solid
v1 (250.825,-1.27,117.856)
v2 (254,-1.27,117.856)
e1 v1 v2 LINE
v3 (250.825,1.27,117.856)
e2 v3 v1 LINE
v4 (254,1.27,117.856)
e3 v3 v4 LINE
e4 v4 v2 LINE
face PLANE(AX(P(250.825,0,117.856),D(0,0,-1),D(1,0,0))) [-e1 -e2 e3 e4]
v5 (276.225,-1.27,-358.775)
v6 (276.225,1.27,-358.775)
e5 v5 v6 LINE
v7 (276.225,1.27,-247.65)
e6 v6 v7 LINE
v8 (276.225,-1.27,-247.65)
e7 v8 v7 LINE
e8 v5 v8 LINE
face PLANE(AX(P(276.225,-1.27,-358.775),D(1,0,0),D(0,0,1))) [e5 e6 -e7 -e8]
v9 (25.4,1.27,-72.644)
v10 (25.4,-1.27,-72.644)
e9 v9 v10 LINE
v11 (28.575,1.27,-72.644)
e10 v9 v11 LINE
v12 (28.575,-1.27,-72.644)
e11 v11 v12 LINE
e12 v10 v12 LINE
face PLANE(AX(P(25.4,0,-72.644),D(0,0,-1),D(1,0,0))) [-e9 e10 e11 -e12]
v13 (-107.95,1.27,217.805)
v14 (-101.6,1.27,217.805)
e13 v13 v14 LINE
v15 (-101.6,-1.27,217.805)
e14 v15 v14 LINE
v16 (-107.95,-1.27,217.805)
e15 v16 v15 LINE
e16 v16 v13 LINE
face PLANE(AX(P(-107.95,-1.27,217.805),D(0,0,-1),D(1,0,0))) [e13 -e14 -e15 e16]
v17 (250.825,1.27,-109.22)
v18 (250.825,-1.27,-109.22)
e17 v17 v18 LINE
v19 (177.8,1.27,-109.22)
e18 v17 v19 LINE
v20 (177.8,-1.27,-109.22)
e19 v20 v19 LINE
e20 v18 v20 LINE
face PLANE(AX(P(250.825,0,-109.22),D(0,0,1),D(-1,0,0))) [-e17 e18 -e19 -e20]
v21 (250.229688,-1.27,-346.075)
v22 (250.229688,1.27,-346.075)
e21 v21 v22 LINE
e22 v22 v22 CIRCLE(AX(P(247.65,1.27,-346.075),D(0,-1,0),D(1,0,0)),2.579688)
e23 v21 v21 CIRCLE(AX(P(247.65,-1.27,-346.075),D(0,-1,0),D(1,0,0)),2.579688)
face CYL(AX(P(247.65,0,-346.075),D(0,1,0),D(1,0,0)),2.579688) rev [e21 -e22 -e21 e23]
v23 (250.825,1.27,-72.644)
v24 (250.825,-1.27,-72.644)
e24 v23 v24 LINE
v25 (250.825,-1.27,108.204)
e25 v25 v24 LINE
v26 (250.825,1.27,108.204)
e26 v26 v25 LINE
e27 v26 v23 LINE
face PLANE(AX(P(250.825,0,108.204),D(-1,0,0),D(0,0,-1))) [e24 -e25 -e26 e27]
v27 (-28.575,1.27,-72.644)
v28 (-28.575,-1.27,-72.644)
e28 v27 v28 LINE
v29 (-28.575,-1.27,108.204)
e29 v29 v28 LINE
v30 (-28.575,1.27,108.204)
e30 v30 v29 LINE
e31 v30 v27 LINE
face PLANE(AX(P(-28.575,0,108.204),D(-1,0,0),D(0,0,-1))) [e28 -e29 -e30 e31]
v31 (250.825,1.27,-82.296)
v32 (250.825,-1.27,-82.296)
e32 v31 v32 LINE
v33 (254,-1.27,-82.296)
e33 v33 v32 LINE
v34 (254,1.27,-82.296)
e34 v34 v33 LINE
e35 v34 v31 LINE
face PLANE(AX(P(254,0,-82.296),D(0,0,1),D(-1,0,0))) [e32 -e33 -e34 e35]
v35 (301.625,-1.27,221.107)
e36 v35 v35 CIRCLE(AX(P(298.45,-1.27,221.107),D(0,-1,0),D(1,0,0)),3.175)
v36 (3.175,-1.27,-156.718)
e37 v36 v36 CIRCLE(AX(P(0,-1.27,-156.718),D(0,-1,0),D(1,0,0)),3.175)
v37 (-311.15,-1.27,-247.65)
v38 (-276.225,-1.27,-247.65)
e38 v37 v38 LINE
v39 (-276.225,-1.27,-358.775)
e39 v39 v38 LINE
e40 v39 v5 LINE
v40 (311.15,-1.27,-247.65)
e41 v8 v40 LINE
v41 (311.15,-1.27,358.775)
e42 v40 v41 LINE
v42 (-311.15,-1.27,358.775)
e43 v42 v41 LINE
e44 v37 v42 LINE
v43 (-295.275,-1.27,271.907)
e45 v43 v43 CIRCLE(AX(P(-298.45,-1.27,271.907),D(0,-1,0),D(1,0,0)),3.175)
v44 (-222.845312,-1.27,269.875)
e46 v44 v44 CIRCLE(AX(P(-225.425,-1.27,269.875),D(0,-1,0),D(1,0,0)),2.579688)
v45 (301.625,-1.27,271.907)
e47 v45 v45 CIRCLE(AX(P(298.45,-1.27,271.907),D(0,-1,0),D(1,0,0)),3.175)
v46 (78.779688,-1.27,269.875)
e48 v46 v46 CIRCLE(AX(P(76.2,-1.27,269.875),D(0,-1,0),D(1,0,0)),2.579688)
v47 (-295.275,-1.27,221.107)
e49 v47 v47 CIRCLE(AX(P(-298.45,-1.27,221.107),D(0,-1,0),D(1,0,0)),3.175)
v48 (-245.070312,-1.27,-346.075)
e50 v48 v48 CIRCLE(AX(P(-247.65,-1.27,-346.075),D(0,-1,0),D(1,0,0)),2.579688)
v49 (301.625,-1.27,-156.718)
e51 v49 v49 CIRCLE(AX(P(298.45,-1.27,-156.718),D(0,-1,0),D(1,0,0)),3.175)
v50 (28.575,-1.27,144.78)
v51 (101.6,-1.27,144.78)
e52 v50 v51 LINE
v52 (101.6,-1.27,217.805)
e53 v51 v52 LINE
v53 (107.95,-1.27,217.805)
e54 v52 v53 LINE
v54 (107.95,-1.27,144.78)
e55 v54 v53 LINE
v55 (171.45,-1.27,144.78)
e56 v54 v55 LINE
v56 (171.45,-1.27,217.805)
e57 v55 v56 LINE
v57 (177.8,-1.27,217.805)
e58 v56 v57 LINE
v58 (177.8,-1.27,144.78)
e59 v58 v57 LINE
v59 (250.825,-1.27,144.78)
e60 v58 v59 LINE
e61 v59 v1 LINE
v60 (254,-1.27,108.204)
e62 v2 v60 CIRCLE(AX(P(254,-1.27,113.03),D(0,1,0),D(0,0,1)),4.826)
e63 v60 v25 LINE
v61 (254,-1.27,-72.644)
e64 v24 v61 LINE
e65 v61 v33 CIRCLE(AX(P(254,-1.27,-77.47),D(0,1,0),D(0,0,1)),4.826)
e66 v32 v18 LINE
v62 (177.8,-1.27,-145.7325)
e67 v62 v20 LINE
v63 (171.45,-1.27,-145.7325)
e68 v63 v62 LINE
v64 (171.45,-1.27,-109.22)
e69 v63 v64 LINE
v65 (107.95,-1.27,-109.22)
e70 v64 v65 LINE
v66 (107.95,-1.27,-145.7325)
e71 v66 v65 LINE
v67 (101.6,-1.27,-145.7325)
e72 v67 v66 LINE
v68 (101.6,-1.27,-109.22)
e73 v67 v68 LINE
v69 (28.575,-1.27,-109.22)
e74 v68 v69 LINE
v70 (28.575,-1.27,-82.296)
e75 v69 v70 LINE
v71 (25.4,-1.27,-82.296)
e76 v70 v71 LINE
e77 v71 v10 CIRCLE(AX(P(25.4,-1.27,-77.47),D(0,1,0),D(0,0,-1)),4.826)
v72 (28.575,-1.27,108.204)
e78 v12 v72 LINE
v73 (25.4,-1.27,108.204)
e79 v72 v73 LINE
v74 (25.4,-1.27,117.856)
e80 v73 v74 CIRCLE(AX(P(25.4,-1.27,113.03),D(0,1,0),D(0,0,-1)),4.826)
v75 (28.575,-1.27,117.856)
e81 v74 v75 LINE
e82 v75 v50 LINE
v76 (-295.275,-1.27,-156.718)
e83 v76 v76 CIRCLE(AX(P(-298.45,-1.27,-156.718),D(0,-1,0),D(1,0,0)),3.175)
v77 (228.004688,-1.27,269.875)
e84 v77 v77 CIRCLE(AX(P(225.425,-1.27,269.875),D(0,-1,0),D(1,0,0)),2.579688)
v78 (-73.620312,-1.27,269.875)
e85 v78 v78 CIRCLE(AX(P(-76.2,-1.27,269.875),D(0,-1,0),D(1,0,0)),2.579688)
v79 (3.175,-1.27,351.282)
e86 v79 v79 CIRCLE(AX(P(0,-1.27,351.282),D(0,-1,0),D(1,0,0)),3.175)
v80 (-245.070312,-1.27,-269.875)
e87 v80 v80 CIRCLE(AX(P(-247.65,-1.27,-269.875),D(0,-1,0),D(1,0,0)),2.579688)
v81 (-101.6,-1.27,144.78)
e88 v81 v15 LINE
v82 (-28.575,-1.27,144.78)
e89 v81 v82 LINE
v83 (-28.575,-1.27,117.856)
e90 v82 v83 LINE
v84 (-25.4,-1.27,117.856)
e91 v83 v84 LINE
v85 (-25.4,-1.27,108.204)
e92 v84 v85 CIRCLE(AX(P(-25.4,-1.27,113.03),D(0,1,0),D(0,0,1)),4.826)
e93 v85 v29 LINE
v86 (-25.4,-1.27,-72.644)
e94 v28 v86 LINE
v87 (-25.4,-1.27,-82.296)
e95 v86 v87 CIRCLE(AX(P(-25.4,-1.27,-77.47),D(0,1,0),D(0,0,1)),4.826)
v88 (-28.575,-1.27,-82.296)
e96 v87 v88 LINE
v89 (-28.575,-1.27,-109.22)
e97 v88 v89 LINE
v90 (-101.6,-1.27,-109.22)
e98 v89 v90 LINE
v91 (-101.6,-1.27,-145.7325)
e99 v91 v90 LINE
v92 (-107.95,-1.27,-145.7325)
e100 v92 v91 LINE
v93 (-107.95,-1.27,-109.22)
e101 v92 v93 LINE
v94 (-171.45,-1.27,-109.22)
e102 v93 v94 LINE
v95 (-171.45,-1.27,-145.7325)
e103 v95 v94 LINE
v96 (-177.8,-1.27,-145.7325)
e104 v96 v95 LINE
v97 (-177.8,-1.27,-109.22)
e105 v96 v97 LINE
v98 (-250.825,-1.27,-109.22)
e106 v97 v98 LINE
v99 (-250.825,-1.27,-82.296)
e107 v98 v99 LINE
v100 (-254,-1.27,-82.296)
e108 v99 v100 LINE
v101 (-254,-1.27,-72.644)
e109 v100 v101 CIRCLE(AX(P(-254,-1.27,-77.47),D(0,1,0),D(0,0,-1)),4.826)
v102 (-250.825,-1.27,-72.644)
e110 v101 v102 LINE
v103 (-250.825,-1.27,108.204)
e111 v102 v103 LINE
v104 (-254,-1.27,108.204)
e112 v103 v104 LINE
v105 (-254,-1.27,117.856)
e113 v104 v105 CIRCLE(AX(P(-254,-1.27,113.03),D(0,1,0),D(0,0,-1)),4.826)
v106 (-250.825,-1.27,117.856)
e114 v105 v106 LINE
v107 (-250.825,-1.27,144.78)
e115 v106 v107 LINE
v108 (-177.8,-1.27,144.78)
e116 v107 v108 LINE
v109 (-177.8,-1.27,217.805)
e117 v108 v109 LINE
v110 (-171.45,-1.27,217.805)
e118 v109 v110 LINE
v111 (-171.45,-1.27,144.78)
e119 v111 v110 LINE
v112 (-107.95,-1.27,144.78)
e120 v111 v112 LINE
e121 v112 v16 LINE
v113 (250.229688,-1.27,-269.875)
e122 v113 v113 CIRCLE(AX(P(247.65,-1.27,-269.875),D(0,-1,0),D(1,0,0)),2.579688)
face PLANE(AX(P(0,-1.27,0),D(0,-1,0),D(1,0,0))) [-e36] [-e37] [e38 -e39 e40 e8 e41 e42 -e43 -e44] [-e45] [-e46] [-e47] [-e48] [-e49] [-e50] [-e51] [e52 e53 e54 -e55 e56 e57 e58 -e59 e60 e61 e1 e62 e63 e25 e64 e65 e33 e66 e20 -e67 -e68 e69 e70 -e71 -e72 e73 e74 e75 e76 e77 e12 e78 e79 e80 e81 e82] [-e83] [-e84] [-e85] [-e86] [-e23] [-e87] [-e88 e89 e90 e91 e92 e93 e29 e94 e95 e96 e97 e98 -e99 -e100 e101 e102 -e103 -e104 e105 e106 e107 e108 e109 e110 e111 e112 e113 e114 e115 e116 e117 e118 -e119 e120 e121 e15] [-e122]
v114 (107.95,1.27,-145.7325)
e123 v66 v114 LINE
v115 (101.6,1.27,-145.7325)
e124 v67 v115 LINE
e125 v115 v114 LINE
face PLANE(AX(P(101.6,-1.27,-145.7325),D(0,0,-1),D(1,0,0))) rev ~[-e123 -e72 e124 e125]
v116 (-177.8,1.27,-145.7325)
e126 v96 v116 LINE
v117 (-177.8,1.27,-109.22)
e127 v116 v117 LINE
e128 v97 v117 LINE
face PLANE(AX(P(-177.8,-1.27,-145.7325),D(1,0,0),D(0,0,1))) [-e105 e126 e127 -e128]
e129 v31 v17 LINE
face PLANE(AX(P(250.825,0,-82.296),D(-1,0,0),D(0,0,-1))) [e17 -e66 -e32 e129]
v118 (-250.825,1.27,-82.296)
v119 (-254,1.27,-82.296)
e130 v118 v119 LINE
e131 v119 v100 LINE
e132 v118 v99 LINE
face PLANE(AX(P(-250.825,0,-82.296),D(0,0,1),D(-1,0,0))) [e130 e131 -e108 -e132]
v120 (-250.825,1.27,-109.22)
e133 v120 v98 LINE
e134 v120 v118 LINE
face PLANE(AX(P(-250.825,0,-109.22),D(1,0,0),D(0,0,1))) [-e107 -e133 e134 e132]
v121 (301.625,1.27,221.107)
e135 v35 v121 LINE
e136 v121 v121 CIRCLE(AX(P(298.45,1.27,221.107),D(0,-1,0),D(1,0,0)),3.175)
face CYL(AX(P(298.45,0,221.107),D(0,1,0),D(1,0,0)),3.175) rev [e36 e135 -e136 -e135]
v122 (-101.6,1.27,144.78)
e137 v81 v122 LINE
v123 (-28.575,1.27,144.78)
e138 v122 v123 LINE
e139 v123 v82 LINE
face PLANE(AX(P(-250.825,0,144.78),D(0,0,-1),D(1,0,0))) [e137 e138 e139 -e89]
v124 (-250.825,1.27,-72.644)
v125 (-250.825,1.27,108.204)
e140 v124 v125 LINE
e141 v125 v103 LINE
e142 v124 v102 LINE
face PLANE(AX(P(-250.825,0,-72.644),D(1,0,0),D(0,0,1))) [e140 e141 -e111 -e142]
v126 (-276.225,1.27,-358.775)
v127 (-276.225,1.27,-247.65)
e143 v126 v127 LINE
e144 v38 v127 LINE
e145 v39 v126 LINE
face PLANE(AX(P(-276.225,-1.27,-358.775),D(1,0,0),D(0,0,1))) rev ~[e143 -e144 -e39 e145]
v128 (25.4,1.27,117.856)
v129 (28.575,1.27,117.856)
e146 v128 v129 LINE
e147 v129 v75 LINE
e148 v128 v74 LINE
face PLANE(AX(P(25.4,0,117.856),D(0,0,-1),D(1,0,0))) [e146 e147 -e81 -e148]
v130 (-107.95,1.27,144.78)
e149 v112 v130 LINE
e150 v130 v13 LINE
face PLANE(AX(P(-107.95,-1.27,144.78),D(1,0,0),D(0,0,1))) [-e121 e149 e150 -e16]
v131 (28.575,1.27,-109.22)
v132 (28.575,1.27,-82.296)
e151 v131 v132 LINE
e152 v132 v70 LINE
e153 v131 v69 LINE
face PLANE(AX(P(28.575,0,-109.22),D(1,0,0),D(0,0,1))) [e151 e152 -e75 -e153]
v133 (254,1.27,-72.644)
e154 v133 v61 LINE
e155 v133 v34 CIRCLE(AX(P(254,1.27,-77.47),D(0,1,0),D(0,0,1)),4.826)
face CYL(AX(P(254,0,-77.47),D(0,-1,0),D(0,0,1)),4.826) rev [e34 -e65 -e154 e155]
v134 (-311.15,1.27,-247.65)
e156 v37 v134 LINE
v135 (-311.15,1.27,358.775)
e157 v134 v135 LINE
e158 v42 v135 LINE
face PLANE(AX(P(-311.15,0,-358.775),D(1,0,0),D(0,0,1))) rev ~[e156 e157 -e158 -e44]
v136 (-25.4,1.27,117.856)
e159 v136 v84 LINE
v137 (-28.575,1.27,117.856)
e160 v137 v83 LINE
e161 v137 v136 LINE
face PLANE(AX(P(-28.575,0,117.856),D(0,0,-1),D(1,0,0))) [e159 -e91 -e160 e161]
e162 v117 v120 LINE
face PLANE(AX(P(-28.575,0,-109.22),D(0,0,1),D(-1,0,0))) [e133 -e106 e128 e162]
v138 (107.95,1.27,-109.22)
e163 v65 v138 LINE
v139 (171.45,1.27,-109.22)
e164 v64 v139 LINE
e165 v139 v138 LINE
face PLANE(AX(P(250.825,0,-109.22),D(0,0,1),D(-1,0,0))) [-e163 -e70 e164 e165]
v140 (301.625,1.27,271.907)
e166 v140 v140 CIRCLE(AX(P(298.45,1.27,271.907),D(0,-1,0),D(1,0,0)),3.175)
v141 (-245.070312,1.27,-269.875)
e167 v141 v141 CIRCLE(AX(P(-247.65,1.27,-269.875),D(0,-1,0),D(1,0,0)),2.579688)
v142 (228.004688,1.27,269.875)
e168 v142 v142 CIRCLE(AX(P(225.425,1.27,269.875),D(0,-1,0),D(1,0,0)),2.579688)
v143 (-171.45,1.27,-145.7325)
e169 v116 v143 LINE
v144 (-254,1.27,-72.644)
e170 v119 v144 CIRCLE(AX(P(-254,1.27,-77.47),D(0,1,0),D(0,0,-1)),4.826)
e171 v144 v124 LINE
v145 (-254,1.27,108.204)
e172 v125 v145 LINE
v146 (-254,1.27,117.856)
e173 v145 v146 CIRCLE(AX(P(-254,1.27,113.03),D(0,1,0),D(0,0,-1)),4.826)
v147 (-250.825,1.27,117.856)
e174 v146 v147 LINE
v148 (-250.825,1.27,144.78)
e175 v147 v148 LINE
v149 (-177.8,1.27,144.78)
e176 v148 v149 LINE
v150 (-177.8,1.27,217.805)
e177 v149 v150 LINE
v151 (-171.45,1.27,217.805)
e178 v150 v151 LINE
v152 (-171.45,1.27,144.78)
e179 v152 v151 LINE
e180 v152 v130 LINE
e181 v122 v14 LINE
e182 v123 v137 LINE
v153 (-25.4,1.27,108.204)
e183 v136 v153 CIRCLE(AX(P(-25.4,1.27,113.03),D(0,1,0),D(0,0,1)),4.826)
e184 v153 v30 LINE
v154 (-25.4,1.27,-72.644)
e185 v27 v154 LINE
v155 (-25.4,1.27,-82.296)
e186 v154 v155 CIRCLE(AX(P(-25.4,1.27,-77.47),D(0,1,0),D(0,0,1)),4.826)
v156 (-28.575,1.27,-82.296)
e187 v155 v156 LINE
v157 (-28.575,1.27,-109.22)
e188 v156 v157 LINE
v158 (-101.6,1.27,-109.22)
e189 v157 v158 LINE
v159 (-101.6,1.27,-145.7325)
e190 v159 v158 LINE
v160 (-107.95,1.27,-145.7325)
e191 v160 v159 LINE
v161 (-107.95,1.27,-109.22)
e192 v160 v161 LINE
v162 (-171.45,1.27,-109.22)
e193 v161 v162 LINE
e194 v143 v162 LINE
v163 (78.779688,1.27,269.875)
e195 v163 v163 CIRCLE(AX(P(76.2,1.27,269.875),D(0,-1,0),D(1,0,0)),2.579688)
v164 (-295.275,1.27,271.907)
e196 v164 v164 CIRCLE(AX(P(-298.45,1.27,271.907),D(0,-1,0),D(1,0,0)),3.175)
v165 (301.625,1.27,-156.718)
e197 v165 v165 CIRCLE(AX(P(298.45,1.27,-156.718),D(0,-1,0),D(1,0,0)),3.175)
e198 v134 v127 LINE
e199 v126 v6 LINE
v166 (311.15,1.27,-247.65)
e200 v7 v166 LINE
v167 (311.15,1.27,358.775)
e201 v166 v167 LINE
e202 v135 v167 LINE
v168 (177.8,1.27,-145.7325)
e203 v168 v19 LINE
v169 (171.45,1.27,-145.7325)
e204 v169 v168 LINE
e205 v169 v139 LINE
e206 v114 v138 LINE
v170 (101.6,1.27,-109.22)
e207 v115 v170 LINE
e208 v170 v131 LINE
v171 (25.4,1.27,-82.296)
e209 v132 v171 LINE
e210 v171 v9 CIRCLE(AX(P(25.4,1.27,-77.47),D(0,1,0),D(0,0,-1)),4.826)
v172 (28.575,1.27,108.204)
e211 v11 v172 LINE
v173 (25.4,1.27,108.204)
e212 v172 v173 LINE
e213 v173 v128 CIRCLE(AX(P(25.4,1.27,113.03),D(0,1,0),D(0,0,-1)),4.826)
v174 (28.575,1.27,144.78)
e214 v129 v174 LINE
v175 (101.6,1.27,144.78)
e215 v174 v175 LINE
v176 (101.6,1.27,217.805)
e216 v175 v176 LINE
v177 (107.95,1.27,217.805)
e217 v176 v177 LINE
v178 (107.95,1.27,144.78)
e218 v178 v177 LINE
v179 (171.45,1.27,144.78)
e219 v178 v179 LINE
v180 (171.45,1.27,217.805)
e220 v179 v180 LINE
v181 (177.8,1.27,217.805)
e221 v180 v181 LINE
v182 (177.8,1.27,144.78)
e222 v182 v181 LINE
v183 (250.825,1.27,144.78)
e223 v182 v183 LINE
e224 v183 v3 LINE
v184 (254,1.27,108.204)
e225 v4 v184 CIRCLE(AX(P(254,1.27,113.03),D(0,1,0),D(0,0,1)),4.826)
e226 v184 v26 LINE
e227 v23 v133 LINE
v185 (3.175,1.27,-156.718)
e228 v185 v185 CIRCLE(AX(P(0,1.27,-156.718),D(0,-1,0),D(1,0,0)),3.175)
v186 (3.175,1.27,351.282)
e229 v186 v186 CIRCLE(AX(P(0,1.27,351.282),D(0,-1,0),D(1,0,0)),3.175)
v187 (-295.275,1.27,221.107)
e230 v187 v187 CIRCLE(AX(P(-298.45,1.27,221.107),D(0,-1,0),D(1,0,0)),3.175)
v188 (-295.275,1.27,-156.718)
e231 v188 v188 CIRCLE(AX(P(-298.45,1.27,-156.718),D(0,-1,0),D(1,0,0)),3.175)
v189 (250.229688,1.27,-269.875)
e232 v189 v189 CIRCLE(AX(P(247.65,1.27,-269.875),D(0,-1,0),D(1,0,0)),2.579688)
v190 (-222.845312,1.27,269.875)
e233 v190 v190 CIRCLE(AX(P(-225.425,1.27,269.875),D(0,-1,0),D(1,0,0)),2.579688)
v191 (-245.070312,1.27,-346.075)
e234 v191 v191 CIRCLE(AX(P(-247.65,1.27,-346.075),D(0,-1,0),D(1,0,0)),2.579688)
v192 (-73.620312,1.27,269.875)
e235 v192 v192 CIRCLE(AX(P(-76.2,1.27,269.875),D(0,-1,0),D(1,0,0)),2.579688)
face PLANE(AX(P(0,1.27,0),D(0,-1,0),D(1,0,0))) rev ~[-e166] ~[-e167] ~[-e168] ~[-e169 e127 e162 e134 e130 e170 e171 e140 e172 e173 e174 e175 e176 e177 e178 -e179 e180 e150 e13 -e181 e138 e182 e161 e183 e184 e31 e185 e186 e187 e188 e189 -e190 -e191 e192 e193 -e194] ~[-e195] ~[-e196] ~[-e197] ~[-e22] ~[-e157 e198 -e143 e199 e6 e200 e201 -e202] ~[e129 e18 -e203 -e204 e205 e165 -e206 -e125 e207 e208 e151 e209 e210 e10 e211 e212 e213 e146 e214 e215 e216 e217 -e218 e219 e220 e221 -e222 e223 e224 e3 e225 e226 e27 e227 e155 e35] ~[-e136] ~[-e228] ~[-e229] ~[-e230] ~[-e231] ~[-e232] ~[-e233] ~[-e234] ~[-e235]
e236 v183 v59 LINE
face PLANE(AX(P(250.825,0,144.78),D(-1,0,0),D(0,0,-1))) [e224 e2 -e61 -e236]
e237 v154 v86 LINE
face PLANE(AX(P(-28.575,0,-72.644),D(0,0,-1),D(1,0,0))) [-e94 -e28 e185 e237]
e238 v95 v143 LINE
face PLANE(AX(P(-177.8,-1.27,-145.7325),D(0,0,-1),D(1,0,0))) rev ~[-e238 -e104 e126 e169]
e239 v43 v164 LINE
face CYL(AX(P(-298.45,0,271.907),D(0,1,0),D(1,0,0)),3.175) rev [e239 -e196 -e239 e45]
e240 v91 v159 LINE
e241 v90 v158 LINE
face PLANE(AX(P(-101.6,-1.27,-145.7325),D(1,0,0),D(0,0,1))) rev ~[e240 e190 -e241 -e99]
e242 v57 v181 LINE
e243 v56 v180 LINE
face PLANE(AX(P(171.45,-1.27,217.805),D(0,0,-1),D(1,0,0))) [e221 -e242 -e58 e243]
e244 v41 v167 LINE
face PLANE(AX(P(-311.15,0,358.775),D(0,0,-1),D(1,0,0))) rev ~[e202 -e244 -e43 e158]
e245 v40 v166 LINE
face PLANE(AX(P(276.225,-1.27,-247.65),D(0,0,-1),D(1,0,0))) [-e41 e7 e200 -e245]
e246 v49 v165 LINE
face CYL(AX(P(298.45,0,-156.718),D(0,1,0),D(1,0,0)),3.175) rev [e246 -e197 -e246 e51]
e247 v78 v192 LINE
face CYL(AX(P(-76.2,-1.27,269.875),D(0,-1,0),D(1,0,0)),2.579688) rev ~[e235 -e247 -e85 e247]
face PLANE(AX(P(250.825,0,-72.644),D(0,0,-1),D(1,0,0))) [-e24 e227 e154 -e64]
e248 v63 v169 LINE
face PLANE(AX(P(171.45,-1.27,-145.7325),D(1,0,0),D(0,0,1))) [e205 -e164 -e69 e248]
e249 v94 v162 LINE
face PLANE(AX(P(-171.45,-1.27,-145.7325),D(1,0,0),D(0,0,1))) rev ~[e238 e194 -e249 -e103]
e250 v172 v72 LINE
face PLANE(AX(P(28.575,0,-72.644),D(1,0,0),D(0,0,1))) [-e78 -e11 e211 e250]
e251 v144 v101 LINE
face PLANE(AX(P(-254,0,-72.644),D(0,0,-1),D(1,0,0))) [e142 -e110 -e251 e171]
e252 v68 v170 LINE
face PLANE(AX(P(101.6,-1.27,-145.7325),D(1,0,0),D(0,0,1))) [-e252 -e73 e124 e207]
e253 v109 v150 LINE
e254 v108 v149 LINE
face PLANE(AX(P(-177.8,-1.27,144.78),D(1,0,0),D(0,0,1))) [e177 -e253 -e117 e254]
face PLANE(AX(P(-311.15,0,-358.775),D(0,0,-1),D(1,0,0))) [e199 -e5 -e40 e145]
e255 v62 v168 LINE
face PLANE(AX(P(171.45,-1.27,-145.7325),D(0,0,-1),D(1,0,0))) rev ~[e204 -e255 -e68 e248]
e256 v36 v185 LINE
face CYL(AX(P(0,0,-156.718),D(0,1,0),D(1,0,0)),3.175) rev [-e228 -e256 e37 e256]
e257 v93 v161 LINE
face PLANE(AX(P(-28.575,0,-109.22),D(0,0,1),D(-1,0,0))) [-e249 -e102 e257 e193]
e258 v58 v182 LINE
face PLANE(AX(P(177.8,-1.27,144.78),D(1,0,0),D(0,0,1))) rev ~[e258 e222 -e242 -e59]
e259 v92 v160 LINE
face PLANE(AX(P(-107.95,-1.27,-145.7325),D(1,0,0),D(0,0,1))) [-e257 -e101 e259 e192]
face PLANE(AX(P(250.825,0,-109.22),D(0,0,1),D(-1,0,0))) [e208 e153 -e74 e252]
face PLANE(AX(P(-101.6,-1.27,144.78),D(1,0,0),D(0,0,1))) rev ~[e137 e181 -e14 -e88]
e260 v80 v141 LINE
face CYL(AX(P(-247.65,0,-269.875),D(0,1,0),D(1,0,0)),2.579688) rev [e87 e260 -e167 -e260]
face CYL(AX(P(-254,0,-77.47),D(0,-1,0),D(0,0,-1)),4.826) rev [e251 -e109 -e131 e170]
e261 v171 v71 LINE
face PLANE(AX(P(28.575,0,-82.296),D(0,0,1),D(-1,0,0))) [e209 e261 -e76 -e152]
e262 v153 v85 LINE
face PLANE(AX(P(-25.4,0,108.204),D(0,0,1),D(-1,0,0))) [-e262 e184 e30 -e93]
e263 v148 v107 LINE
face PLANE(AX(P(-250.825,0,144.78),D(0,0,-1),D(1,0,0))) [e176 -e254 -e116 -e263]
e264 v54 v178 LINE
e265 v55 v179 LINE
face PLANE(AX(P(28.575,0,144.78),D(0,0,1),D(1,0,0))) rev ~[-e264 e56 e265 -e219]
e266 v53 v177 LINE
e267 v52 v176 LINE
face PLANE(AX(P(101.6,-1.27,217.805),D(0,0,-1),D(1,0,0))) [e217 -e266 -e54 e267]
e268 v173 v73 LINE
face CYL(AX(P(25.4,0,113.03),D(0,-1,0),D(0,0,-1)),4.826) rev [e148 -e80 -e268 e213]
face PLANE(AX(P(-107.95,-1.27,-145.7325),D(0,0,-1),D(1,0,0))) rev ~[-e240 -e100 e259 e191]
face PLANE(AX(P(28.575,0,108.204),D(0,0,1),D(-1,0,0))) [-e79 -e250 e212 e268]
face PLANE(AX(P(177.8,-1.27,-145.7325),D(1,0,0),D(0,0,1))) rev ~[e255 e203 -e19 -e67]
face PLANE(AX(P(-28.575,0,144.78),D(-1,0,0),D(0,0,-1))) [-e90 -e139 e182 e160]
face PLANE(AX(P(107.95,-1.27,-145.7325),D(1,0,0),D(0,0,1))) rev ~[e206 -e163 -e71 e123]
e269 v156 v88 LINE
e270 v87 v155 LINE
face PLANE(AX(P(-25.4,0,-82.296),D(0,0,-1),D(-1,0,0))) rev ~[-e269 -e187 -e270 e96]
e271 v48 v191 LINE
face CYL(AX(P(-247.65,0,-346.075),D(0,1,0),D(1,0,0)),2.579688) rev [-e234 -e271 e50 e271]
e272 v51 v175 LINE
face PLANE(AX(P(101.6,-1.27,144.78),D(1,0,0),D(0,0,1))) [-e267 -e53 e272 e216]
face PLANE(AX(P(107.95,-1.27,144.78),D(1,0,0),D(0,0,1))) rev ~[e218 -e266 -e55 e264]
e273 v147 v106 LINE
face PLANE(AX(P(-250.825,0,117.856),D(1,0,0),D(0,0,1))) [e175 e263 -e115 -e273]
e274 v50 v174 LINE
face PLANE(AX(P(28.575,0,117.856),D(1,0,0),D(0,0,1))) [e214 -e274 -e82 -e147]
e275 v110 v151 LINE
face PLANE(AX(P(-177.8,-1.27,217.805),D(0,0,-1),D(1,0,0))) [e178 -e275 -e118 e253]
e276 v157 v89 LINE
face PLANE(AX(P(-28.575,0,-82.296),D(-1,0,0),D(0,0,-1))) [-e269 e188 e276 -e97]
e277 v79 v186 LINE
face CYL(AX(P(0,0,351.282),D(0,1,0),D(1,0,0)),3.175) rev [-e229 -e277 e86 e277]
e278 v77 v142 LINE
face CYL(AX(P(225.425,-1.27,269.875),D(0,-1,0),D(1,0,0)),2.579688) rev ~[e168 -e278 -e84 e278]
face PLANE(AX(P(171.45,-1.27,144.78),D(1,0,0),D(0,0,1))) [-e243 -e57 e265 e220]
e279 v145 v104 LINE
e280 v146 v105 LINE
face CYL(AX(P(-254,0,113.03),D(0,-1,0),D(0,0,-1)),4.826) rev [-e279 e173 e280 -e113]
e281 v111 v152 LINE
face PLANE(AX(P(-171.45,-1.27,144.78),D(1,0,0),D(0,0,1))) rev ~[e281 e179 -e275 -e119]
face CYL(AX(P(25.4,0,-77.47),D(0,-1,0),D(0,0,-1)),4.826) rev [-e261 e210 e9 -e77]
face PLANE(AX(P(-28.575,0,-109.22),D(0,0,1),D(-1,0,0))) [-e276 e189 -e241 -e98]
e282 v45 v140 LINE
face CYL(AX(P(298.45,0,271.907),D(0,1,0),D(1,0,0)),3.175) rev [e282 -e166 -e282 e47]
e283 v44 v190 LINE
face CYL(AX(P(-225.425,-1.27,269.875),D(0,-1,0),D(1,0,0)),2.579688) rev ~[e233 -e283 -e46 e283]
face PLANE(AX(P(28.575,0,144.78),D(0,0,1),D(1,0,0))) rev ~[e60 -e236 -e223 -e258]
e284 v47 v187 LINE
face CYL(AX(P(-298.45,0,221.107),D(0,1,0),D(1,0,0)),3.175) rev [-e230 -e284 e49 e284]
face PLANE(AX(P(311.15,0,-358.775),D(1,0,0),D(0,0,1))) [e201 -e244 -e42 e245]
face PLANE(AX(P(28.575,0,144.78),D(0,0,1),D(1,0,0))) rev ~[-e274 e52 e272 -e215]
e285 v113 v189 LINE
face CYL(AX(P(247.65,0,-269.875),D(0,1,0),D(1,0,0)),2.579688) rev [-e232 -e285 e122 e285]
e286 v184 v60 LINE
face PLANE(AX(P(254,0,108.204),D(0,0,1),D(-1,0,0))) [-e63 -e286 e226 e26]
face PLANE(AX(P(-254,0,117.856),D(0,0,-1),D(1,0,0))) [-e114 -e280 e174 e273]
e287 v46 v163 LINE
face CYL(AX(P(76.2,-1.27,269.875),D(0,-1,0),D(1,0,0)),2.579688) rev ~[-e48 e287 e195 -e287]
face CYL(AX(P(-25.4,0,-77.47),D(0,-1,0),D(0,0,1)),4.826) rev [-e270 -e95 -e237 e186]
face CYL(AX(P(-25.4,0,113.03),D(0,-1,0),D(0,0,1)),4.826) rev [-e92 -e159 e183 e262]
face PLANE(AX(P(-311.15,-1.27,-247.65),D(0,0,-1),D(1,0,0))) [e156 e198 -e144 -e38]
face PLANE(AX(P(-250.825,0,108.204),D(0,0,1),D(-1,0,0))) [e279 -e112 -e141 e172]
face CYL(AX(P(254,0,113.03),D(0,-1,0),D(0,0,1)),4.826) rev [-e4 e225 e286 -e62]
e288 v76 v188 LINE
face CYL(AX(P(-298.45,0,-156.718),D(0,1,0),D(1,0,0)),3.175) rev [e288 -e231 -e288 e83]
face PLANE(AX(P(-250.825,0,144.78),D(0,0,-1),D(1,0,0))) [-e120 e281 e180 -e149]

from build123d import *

# Parameters (mm, degrees)
F0_W     = 622.3
F0_H     = 717.55
F0_R     = 2.579688
F0_R_2   = 3.175
F1_DEPTH = 1.27
F2_W     = 34.925
F2_H     = 111.125
F2_W_2   = 6.35
F2_H_2   = 73.025
F2_H_3   = 36.5125
F2_R     = 2.579688
F3_DEPTH = 2.541


with BuildPart() as f1:
    # F0 (on Front) → F1 (new body, symmetric)
    with BuildSketch(Plane.XZ):
        Rectangle(F0_W, F0_H)
        with Locations((-247.65, -346.075)):
            Circle(F0_R, mode=Mode.SUBTRACT)
        with Locations((-247.65, -269.875)):
            Circle(F0_R, mode=Mode.SUBTRACT)
        with Locations((-298.45, -156.718)):
            Circle(F0_R_2, mode=Mode.SUBTRACT)
        with Locations((247.65, -346.075)):
            Circle(F0_R, mode=Mode.SUBTRACT)
        with Locations((247.65, -269.875)):
            Circle(F0_R, mode=Mode.SUBTRACT)
        with Locations((0, -156.718)):
            Circle(F0_R_2, mode=Mode.SUBTRACT)
        with Locations((298.45, -156.718)):
            Circle(F0_R_2, mode=Mode.SUBTRACT)
        with BuildLine():
            Line((-250.825, 117.856), (-250.825, 144.78))
            Line((-250.825, 144.78), (-28.575, 144.78))
            Line((-28.575, 144.78), (-28.575, 117.856))
            Line((-28.575, 117.856), (-25.4, 117.856))
            ThreePointArc((-25.4, 117.856), (-20.574, 113.03), (-25.4, 108.204))
            Line((-25.4, 108.204), (-28.575, 108.204))
            Line((-28.575, 108.204), (-28.575, -72.644))
            Line((-28.575, -72.644), (-25.4, -72.644))
            ThreePointArc((-25.4, -72.644), (-20.574, -77.47), (-25.4, -82.296))
            Line((-25.4, -82.296), (-28.575, -82.296))
            Line((-28.575, -82.296), (-28.575, -109.22))
            Line((-28.575, -109.22), (-250.825, -109.22))
            Line((-250.825, -109.22), (-250.825, -82.296))
            Line((-250.825, -82.296), (-254, -82.296))
            ThreePointArc((-254, -82.296), (-258.826, -77.47), (-254, -72.644))
            Line((-254, -72.644), (-250.825, -72.644))
            Line((-250.825, -72.644), (-250.825, 108.204))
            Line((-250.825, 108.204), (-254, 108.204))
            ThreePointArc((-254, 108.204), (-258.826, 113.03), (-254, 117.856))
            Line((-254, 117.856), (-250.825, 117.856))
        make_face(mode=Mode.SUBTRACT)
        with Locations((-298.45, 221.107)):
            Circle(F0_R_2, mode=Mode.SUBTRACT)
        with Locations((-298.45, 271.907)):
            Circle(F0_R_2, mode=Mode.SUBTRACT)
        with BuildLine():
            Line((28.575, -109.22), (28.575, -82.296))
            Line((28.575, -82.296), (25.4, -82.296))
            ThreePointArc((25.4, -82.296), (20.574, -77.47), (25.4, -72.644))
            Line((25.4, -72.644), (28.575, -72.644))
            Line((28.575, -72.644), (28.575, 108.204))
            Line((28.575, 108.204), (25.4, 108.204))
            ThreePointArc((25.4, 108.204), (20.574, 113.03), (25.4, 117.856))
            Line((25.4, 117.856), (28.575, 117.856))
            Line((28.575, 117.856), (28.575, 144.78))
            Line((28.575, 144.78), (250.825, 144.78))
            Line((250.825, 144.78), (250.825, 117.856))
            Line((250.825, 117.856), (254, 117.856))
            ThreePointArc((254, 117.856), (258.826, 113.03), (254, 108.204))
            Line((254, 108.204), (250.825, 108.204))
            Line((250.825, 108.204), (250.825, -72.644))
            Line((250.825, -72.644), (254, -72.644))
            ThreePointArc((254, -72.644), (258.826, -77.47), (254, -82.296))
            Line((254, -82.296), (250.825, -82.296))
            Line((250.825, -82.296), (250.825, -109.22))
            Line((250.825, -109.22), (28.575, -109.22))
        make_face(mode=Mode.SUBTRACT)
        with Locations((0, 351.282)):
            Circle(F0_R_2, mode=Mode.SUBTRACT)
        with Locations((298.45, 221.107)):
            Circle(F0_R_2, mode=Mode.SUBTRACT)
        with Locations((298.45, 271.907)):
            Circle(F0_R_2, mode=Mode.SUBTRACT)
    extrude(amount=F1_DEPTH, both=True)

    # F2 (on face) → F3 (cut, through all)
    with BuildSketch(Plane.XZ.offset(1.27)):
        with Locations((-293.6875, -303.2125)):
            Rectangle(F2_W, F2_H)
        with Locations((293.6875, -303.2125)):
            Rectangle(F2_W, F2_H)
        with Locations((-174.625, 181.2925)):
            Rectangle(F2_W_2, F2_H_2)
        with Locations((-104.775, 181.2925)):
            Rectangle(F2_W_2, F2_H_2)
        with Locations((-104.775, -127.47625)):
            Rectangle(F2_W_2, F2_H_3)
        with Locations((-174.625, -127.47625)):
            Rectangle(F2_W_2, F2_H_3)
        with Locations((104.775, 181.2925)):
            Rectangle(F2_W_2, F2_H_2)
        with Locations((174.625, -127.47625)):
            Rectangle(F2_W_2, F2_H_3)
        with Locations((174.625, 181.2925)):
            Rectangle(F2_W_2, F2_H_2)
        with Locations((104.775, -127.47625)):
            Rectangle(F2_W_2, F2_H_3)
        with Locations((225.425, 269.875)):
            Circle(F2_R)
        with Locations((-225.425, 269.875)):
            Circle(F2_R)
        with Locations((76.2, 269.875)):
            Circle(F2_R)
        with Locations((-76.2, 269.875)):
            Circle(F2_R)
    extrude(amount=-F3_DEPTH, mode=Mode.SUBTRACT)


solid = f1.part
